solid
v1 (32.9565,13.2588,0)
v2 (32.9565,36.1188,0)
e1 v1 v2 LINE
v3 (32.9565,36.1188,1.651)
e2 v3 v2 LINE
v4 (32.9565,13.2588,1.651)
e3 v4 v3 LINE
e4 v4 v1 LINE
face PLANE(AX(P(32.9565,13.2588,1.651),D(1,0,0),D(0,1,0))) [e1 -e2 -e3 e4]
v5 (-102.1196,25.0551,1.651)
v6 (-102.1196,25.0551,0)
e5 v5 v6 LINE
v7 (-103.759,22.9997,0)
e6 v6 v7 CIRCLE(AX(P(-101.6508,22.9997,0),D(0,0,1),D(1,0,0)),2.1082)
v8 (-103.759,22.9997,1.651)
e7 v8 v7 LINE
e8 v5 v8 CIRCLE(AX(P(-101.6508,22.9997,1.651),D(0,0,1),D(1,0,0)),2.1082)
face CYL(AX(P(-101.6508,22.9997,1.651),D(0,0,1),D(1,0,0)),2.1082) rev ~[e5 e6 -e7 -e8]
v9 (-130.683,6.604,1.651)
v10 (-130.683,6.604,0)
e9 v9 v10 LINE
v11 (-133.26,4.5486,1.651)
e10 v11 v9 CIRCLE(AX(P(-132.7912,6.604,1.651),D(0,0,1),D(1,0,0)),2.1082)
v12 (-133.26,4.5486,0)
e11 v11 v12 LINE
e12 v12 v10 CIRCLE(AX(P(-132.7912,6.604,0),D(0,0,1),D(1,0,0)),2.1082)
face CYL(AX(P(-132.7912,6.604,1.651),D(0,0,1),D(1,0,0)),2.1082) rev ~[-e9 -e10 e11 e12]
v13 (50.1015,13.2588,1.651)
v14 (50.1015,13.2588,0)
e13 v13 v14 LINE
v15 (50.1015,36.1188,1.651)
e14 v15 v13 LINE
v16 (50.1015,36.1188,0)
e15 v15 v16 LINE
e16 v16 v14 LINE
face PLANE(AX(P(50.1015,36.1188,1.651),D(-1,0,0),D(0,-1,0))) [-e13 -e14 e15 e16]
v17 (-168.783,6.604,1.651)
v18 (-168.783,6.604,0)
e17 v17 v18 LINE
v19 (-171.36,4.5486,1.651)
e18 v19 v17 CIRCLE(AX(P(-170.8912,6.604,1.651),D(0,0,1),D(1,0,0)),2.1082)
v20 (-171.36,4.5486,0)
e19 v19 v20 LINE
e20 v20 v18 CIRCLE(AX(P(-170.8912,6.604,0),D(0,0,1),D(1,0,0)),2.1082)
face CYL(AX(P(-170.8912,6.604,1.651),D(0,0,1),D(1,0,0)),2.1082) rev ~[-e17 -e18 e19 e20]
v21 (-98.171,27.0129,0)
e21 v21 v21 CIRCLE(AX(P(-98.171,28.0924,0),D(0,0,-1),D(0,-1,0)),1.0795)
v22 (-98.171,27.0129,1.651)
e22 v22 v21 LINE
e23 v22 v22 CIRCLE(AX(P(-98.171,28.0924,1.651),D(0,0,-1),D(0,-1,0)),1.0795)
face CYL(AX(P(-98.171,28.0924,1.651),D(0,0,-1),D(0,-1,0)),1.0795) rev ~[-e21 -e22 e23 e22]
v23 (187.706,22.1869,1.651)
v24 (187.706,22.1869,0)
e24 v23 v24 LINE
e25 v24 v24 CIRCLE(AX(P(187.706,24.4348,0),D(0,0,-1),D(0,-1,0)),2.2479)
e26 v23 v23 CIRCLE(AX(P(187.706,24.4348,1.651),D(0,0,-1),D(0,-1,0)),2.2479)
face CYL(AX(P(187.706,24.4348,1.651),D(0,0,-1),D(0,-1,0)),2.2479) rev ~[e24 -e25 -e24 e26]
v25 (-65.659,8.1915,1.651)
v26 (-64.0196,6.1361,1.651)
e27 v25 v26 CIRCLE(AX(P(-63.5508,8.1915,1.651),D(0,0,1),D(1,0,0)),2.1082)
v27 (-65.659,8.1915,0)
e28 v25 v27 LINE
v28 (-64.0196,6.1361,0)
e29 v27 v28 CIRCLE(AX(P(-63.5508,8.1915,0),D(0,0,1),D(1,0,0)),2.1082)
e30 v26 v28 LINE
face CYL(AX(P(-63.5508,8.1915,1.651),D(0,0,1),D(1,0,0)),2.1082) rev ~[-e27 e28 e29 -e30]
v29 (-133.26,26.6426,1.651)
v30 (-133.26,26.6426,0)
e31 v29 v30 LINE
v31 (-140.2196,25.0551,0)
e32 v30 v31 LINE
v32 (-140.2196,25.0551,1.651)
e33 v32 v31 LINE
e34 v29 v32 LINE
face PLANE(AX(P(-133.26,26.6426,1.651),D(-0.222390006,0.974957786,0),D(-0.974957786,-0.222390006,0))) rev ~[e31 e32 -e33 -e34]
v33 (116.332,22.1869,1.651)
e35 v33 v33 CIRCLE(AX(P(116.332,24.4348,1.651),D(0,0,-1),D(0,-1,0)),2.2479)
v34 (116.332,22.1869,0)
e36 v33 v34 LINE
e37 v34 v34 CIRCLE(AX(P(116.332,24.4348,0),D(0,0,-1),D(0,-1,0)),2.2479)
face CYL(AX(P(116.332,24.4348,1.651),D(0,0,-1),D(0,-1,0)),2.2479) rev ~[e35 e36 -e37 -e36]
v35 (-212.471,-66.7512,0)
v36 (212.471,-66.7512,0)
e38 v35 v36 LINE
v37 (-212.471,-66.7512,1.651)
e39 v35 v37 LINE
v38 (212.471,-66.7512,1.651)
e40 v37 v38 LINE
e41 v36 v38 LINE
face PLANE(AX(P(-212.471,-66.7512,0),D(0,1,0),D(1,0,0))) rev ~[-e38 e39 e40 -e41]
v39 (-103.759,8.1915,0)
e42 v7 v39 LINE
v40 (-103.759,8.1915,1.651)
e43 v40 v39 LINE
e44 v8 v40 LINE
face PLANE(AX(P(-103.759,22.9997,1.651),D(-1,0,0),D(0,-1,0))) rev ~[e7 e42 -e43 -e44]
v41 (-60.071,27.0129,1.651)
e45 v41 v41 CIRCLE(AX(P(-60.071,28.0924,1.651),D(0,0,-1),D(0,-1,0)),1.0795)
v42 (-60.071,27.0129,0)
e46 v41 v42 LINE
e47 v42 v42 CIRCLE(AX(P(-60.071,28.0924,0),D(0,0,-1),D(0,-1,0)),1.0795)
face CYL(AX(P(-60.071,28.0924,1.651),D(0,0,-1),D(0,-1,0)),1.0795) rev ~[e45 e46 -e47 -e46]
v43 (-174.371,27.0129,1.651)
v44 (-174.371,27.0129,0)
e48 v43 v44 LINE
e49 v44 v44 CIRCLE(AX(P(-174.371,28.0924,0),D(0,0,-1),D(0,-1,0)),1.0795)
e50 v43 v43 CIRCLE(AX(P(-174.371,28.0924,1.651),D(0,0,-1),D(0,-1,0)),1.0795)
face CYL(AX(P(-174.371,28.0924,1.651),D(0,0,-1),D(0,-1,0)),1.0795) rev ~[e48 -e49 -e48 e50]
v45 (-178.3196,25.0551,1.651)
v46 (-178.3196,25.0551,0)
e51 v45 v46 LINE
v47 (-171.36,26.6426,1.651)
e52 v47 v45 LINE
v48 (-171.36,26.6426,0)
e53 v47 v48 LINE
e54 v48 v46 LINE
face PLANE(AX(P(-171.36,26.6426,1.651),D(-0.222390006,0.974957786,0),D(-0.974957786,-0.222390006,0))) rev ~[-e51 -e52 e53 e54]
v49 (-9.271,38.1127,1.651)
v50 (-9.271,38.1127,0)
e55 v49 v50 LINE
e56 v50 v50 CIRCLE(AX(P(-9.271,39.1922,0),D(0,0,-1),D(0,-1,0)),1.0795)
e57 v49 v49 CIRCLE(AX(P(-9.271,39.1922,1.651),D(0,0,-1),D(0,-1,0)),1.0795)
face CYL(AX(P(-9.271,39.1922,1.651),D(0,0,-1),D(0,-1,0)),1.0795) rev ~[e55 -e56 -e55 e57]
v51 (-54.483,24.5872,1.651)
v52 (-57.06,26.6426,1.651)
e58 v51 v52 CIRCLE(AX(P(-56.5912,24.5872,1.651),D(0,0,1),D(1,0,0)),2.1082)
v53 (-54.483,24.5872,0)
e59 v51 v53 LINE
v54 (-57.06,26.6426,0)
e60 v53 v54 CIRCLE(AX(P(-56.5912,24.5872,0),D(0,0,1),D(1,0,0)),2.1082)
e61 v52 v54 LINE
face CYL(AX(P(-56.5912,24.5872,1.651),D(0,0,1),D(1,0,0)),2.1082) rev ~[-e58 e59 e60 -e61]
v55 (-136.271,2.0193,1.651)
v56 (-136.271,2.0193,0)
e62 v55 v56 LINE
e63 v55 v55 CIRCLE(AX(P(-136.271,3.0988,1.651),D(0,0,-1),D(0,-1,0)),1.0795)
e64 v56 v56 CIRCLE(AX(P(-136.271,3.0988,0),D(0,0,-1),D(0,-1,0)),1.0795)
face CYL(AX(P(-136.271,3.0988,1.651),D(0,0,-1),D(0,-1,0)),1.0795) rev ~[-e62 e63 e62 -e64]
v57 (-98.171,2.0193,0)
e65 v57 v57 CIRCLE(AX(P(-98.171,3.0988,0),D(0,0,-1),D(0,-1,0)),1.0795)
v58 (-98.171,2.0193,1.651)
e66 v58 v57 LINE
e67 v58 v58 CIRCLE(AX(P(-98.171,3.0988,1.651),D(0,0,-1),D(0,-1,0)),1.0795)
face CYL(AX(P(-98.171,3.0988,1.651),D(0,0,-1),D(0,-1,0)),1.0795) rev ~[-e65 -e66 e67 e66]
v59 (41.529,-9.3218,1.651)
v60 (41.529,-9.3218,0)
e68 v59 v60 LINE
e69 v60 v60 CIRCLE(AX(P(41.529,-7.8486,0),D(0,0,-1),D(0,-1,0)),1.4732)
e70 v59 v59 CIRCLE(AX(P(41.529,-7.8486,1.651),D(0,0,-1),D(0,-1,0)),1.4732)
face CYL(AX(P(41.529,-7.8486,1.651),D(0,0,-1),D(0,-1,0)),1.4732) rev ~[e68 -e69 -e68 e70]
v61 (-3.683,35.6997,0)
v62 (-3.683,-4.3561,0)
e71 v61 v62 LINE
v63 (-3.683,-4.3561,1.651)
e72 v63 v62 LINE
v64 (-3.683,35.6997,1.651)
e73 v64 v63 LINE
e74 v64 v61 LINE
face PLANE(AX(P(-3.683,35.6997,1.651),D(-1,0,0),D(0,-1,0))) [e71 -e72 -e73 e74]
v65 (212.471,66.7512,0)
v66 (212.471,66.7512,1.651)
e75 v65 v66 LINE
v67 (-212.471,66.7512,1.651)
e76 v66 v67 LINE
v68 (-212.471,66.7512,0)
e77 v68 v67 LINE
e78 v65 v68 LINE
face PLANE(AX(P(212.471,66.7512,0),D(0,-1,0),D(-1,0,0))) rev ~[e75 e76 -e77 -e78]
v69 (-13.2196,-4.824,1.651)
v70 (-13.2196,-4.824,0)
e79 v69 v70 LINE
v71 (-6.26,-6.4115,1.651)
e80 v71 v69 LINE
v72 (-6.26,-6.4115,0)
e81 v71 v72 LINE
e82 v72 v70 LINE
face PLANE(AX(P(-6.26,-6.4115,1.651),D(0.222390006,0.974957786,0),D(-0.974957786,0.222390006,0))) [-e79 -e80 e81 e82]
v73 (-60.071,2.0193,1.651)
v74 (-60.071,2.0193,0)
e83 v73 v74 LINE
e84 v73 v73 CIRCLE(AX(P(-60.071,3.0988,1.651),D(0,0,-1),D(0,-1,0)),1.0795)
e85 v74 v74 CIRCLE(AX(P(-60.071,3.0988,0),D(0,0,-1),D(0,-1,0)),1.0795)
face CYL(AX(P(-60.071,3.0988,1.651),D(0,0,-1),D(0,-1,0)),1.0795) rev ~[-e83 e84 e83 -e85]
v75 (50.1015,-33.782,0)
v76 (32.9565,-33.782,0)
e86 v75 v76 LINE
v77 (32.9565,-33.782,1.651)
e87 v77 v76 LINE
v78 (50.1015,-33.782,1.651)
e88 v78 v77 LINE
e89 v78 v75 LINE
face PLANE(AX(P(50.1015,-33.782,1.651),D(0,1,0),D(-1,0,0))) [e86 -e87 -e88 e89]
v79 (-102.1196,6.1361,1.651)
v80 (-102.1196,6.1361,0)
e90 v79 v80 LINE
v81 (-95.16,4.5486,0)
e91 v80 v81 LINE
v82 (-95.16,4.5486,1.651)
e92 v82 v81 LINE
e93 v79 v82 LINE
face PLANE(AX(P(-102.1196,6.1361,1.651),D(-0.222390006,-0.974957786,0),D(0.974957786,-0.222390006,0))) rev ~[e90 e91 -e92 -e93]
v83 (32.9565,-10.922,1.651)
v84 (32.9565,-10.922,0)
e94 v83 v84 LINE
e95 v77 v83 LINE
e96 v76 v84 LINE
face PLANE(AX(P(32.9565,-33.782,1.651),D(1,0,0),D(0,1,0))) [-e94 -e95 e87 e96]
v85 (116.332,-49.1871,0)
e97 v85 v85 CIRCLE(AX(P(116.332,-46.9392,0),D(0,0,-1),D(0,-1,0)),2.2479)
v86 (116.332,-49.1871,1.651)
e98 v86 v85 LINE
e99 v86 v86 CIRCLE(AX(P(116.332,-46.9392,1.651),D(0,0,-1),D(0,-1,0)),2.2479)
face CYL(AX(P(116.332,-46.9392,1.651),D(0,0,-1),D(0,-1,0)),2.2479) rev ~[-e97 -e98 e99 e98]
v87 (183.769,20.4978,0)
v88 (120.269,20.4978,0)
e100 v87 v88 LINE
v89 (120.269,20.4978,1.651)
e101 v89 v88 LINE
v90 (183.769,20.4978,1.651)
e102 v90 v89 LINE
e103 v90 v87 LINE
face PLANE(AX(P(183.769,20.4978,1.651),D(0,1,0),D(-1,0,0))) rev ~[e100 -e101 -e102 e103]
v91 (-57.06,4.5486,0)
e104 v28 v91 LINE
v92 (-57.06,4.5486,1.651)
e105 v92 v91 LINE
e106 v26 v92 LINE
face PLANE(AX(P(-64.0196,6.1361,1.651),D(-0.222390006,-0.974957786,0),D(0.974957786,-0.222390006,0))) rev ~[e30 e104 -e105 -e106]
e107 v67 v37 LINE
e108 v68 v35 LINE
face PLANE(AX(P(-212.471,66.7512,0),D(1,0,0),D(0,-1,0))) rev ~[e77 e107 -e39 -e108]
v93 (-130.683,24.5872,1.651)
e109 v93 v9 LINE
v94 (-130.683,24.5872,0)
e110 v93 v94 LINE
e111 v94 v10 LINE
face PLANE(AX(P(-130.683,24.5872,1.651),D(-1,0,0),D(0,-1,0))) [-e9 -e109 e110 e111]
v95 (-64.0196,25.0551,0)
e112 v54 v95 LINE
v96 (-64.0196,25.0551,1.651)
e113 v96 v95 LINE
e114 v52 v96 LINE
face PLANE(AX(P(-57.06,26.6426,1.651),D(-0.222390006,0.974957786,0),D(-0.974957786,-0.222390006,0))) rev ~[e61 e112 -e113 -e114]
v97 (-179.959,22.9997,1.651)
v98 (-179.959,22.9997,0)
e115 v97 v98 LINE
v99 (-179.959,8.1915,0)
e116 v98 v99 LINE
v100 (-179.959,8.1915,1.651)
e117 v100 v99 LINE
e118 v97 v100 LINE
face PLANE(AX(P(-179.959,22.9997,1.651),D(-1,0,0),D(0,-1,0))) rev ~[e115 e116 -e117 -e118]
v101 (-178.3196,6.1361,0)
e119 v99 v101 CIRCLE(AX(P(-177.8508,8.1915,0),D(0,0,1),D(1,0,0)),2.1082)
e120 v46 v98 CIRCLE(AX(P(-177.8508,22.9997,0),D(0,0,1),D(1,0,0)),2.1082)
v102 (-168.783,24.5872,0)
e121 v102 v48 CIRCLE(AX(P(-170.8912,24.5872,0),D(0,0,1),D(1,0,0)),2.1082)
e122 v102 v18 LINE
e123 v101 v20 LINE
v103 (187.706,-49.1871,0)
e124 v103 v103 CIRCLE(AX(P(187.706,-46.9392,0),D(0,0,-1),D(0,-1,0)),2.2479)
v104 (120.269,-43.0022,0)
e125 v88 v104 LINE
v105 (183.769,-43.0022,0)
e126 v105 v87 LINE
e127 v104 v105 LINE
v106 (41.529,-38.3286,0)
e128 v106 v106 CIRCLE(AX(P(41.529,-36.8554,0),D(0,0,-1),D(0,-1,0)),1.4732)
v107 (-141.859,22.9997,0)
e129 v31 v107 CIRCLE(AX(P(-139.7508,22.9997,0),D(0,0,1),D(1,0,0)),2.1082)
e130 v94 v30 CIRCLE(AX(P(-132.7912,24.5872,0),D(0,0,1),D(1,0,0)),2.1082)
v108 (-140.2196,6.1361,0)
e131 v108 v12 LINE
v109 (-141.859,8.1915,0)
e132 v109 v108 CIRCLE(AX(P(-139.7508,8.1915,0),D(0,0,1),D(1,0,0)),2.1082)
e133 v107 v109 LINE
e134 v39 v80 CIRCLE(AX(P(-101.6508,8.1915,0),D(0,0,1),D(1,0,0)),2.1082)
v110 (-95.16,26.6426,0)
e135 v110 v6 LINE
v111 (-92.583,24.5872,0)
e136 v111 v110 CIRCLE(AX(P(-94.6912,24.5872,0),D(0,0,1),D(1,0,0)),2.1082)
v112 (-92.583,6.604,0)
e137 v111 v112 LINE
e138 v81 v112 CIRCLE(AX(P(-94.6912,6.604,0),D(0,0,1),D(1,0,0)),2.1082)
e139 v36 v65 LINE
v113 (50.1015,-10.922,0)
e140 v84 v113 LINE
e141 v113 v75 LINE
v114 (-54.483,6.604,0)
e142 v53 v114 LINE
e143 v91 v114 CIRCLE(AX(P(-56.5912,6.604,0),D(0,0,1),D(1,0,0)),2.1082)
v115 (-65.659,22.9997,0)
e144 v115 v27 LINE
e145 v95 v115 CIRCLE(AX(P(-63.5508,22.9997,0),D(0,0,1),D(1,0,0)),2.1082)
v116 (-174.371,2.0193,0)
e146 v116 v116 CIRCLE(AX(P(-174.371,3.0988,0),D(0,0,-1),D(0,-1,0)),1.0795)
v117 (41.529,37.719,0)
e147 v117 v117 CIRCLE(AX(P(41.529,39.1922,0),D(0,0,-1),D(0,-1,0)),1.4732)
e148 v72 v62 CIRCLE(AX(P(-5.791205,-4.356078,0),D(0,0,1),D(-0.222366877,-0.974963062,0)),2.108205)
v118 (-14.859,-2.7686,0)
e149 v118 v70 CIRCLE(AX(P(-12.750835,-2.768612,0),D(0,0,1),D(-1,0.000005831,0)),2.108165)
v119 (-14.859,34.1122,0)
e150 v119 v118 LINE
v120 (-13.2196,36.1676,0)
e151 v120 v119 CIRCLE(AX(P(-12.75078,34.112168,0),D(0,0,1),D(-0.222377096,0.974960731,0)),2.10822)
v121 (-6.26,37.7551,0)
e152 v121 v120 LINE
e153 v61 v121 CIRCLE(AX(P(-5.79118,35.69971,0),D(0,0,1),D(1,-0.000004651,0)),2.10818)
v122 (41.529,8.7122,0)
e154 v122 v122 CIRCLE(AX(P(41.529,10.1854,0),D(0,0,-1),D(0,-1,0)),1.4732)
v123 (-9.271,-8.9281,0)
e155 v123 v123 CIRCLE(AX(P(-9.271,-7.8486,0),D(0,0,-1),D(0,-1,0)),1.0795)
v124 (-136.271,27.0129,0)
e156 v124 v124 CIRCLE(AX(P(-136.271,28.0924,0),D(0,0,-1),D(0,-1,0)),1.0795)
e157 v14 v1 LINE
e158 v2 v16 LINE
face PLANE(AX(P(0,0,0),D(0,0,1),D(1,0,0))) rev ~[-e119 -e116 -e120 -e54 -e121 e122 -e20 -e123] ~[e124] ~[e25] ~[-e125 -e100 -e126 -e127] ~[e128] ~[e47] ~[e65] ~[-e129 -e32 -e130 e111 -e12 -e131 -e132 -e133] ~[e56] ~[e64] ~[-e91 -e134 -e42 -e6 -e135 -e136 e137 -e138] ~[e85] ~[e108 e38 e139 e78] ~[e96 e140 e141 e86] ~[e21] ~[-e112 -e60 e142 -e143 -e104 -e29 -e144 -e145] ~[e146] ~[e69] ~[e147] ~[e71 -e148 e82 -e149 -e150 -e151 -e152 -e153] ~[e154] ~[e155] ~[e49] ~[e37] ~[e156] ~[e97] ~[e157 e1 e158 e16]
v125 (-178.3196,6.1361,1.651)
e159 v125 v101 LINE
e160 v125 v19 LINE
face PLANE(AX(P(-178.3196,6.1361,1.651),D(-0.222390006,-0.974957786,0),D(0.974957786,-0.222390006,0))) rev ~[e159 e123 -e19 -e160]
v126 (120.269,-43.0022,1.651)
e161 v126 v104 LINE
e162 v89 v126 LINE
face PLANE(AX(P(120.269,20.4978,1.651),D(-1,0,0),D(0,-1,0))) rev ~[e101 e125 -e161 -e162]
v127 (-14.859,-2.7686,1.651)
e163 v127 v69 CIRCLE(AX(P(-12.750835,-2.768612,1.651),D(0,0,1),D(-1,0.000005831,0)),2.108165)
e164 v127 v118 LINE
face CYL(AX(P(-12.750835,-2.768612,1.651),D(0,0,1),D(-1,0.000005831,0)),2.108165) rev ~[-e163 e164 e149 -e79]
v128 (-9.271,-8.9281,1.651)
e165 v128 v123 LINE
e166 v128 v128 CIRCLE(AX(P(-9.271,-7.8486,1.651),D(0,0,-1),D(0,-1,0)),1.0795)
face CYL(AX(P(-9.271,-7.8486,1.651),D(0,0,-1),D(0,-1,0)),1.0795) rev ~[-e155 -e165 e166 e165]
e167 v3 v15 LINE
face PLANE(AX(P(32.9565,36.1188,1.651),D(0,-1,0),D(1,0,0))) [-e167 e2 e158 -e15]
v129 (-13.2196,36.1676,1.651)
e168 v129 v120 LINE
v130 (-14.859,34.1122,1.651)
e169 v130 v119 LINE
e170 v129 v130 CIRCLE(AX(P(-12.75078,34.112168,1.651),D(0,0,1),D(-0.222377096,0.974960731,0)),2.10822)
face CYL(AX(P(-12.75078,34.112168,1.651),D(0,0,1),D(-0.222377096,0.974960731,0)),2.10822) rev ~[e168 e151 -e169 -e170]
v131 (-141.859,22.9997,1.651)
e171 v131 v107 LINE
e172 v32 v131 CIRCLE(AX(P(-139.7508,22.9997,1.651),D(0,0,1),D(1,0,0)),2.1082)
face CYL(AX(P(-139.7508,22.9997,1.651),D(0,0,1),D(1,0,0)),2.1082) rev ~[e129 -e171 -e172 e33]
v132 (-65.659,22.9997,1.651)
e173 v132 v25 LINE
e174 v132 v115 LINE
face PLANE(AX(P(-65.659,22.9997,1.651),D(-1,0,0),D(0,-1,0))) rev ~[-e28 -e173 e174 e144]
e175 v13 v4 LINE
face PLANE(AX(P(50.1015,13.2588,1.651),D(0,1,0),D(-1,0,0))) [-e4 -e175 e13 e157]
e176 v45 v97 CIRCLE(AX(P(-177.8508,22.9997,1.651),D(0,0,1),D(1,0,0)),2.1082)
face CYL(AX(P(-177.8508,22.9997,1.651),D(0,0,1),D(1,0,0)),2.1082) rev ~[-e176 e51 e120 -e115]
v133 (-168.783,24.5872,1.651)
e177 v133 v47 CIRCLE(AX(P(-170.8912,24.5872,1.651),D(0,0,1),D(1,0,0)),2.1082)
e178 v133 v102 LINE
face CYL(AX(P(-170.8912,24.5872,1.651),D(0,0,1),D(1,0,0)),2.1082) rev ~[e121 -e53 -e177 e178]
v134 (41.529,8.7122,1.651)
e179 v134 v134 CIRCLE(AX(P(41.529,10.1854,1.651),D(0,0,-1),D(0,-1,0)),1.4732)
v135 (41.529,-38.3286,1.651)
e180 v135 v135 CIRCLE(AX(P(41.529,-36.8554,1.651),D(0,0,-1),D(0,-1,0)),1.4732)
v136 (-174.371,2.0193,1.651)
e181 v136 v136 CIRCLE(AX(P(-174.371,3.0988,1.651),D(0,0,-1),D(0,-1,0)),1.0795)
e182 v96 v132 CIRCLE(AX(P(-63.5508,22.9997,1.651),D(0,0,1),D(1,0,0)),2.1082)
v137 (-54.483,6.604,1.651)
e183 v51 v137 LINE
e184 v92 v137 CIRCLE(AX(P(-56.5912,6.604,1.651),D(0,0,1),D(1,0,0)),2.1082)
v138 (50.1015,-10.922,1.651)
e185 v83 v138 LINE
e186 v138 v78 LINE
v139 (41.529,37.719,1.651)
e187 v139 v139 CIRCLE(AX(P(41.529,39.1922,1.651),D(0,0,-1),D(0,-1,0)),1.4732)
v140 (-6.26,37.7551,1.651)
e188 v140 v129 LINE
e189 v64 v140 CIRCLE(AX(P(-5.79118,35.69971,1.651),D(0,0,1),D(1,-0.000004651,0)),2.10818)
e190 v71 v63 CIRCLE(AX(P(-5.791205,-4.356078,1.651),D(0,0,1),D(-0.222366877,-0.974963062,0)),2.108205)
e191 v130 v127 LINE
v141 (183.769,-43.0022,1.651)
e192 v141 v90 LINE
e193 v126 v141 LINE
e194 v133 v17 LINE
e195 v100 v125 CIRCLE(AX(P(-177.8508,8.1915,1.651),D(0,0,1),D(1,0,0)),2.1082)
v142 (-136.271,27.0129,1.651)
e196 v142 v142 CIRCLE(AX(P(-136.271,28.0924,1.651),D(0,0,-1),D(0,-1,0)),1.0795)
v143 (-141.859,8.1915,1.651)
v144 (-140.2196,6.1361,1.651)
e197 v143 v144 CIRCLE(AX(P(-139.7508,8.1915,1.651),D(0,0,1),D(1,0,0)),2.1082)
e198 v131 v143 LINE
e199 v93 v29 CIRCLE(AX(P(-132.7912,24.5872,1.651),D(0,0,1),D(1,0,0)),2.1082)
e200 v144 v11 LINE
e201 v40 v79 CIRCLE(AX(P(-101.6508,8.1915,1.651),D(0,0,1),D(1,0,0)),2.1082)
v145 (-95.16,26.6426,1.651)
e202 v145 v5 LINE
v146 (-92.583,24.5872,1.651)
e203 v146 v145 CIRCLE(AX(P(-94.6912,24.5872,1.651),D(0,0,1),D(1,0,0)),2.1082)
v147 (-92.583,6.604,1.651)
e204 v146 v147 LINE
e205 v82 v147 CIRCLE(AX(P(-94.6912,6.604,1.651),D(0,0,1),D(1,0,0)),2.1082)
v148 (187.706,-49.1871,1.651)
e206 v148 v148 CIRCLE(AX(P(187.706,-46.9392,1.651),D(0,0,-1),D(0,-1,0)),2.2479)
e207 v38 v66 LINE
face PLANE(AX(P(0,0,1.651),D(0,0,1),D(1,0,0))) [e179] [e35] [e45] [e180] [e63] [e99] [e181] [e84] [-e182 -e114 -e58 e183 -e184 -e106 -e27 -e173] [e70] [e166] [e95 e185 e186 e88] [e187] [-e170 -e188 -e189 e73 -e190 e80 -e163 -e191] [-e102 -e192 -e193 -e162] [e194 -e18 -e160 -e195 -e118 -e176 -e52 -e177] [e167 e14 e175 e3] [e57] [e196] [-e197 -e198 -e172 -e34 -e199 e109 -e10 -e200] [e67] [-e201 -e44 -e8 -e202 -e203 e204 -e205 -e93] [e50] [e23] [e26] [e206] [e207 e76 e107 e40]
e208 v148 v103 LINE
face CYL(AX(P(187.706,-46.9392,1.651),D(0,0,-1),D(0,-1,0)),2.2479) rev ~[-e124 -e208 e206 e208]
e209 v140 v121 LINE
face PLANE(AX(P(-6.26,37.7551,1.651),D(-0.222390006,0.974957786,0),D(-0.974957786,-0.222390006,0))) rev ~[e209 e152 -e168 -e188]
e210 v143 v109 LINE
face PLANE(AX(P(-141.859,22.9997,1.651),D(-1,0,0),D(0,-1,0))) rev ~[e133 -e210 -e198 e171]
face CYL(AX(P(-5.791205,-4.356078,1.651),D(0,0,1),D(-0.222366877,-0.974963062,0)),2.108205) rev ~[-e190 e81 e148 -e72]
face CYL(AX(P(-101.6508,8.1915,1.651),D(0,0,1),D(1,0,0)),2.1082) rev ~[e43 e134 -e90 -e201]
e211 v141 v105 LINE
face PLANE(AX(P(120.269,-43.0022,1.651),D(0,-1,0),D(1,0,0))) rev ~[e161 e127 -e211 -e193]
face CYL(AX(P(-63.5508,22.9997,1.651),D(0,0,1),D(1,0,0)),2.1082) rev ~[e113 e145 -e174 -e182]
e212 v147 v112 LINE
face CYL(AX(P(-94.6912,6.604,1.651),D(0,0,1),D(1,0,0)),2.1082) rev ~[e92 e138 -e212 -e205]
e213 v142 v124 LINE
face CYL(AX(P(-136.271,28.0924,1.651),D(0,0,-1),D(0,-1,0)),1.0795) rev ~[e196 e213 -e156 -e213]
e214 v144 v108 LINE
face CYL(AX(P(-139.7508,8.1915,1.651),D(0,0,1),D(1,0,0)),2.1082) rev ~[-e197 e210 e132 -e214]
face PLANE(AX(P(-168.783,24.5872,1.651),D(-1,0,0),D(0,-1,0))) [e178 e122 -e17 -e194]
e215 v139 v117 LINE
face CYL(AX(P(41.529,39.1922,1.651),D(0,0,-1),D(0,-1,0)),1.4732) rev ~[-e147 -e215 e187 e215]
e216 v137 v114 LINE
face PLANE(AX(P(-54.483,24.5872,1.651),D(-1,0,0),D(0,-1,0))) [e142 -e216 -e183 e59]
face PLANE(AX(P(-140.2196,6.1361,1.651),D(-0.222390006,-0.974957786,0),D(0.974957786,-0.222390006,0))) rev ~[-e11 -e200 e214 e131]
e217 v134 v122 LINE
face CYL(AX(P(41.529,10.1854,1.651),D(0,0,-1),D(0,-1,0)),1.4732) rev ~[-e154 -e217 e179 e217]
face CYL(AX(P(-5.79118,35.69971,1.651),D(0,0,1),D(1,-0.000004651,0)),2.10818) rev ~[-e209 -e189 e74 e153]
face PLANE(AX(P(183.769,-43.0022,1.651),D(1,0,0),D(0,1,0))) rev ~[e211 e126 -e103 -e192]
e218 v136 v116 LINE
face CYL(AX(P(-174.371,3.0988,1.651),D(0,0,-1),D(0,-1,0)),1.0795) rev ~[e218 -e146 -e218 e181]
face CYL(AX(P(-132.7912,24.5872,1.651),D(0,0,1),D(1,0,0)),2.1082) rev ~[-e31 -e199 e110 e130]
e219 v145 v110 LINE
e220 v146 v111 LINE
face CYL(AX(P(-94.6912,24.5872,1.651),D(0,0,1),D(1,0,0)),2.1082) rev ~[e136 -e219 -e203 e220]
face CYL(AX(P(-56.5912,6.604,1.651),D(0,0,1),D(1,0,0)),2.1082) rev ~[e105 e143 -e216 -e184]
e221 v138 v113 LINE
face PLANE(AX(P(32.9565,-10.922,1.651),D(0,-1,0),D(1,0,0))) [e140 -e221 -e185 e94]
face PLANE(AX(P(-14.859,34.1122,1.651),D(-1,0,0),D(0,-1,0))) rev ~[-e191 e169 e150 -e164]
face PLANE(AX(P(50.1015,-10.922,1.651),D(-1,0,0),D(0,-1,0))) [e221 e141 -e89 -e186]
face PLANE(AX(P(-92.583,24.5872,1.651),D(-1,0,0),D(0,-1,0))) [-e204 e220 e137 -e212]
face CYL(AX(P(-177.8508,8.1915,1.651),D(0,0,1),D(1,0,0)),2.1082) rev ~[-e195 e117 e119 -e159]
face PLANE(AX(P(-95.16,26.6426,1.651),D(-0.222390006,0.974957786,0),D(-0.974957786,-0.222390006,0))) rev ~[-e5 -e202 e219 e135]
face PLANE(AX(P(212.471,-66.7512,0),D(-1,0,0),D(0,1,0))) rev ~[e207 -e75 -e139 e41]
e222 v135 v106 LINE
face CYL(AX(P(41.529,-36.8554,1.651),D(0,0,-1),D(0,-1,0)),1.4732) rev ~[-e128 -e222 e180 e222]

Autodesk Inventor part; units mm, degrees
ref_plane "YZ Plane" through (0, 0, 0) normal (1, 0, 0) x (0, 1, 0)
ref_plane "XZ Plane" through (0, 0, 0) normal (0, 1, 0) x (-1, 0, 0)
ref_plane "XY Plane" through (0, 0, 0) normal (0, 0, 1) x (1, 0, 0)
sketch "Sketch1" plane through (0, 0, 0) normal (0, 0, 1) x (1, 0, 0)
  line L0 (-212.471, -66.7512) -> (212.471, -66.7512)
  line L1 (212.471, -66.7512) -> (212.471, 66.7512)
  line L2 (212.471, 66.7512) -> (-212.471, 66.7512)
  line L3 (-212.471, 66.7512) -> (-212.471, -66.7512)
  line L4 (-212.471, -66.7512) -> (212.471, 66.7512) construction
  line L5 (212.471, -66.7512) -> (-212.471, 66.7512) construction
  point P0 (0, 0)
  dimension "d0" = 424.942
  dimension "d1" = 133.5024
extrude "pdu" add sketch "Sketch1" along normal blind 1.651
sketch "dsub9 sketch" plane through (0, 0, 1.651) normal (0, 0, 1) x (1, 0, 0)
  line L0 (-174.371, 28.0924) -> (-174.371, 3.0988) construction
  circle A0 centre (-174.371, 3.0988) radius 1.1303
  circle A1 centre (-174.371, 28.0924) radius 1.1303
  line L1 (209.423, 58.4962) -> (-209.423, 58.4962) construction
  line L2 (-209.423, 58.4962) -> (-209.423, -58.4962) construction
  line L3 (-209.423, -58.4962) -> (209.423, -58.4962) construction
  line L4 (209.423, -58.4962) -> (209.423, 58.4962) construction
  line L5 (212.471, 66.7512) -> (-212.471, 66.7512) construction
  line L6 (-212.471, -66.7512) -> (212.471, -66.7512) construction
  line L7 (-212.471, 66.7512) -> (-212.471, -66.7512) construction
  line L8 (212.471, -66.7512) -> (212.471, 66.7512) construction
  line L9 (-168.783, 24.5872) -> (-168.783, 6.604)
  line L10 (-179.959, 22.9997) -> (-179.959, 8.1915)
  circle A2 centre (-170.8912, 6.604) radius 2.1082
  circle A3 centre (-177.8508, 8.1915) radius 2.1082
  circle A4 centre (-177.8508, 22.9997) radius 2.1082
  circle A5 centre (-170.8912, 24.5872) radius 2.1082
  line L11 (-170.0752, 15.5956) -> (-178.6668, 15.5956) construction
  line L12 (-178.3196, 6.1361) -> (-171.36, 4.5486)
  line L13 (-171.36, 26.6426) -> (-178.3196, 25.0551)
  circle A6 centre (-132.7912, 24.5872) radius 2.1082
  line L14 (-130.683, 24.5872) -> (-130.683, 6.604)
  circle A7 centre (-132.7912, 6.604) radius 2.1082
  line L15 (-140.2196, 6.1361) -> (-133.26, 4.5486)
  circle A8 centre (-139.7508, 8.1915) radius 2.1082
  line L16 (-141.859, 22.9997) -> (-141.859, 8.1915)
  line L17 (-133.26, 26.6426) -> (-140.2196, 25.0551)
  line L18 (-131.9752, 15.5956) -> (-140.5668, 15.5956) construction
  circle A9 centre (-139.7508, 22.9997) radius 2.1082
  line L19 (-136.271, 28.0924) -> (-136.271, 3.0988) construction
  circle A10 centre (-136.271, 3.0988) radius 1.1303
  circle A11 centre (-136.271, 28.0924) radius 1.1303
  circle A12 centre (-94.6912, 24.5872) radius 2.1082
  line L20 (-92.583, 24.5872) -> (-92.583, 6.604)
  circle A13 centre (-94.6912, 6.604) radius 2.1082
  line L21 (-102.1196, 6.1361) -> (-95.16, 4.5486)
  circle A14 centre (-101.6508, 8.1915) radius 2.1082
  line L22 (-103.759, 22.9997) -> (-103.759, 8.1915)
  line L23 (-95.16, 26.6426) -> (-102.1196, 25.0551)
  line L24 (-93.8752, 15.5956) -> (-102.4668, 15.5956) construction
  circle A15 centre (-101.6508, 22.9997) radius 2.1082
  line L25 (-98.171, 28.0924) -> (-98.171, 3.0988) construction
  circle A16 centre (-98.171, 3.0988) radius 1.1303
  circle A17 centre (-98.171, 28.0924) radius 1.1303
  circle A18 centre (-56.5912, 24.5872) radius 2.1082
  line L26 (-54.483, 24.5872) -> (-54.483, 6.604)
  circle A19 centre (-56.5912, 6.604) radius 2.1082
  line L27 (-64.0196, 6.1361) -> (-57.06, 4.5486)
  circle A20 centre (-63.5508, 8.1915) radius 2.1082
  line L28 (-65.659, 22.9997) -> (-65.659, 8.1915)
  line L29 (-57.06, 26.6426) -> (-64.0196, 25.0551)
  line L30 (-55.7752, 15.5956) -> (-64.3668, 15.5956) construction
  circle A21 centre (-63.5508, 22.9997) radius 2.1082
  line L31 (-60.071, 28.0924) -> (-60.071, 3.0988) construction
  circle A22 centre (-60.071, 3.0988) radius 1.1303
  circle A23 centre (-60.071, 28.0924) radius 1.1303
  point P0 (0, 0)
  point P1 (-136.271, 28.0924)
  point P2 (-136.271, 3.0988)
  point P3 (-98.171, 28.0924)
  point P4 (-98.171, 3.0988)
  point P5 (-60.071, 28.0924)
  point P6 (-60.071, 3.0988)
  point P7 (-174.371, 15.5956)
  point P8 (-168.783, 15.5956)
  point P9 (-179.959, 15.5956)
  point P10 (-130.683, 15.5956)
  point P11 (-136.271, 15.5956)
  point P12 (-141.859, 15.5956)
  point P13 (-92.583, 15.5956)
  point P14 (-98.171, 15.5956)
  point P15 (-103.759, 15.5956)
  point P16 (-54.483, 15.5956)
  point P17 (-60.071, 15.5956)
  point P18 (-65.659, 15.5956)
  dimension "d4" = 2.2606
  dimension "d5" = 2.2606
  dimension "d6" = 24.9936
  dimension "d13" = 8.255
  dimension "d14" = 8.255
  dimension "d15" = 3.048
  dimension "d16" = 3.048
  dimension "d17" = 38.1
  dimension "d20" = 69.85
  dimension "d24" = 38.1
  dimension "d123" = 4.2164
  dimension "d124" = 4.2164
  dimension "d125" = 4.2164
  dimension "d126" = 4.2164
  dimension "d127" = 11.176
  dimension "d128" = 17.9832
  dimension "d129" = 14.8082
  dimension "d130" = 5.588
  dimension "d133" = 38.1
sketch "dsub25 sketch" plane through (0, 0, 1.651) normal (0, 0, 1) x (1, 0, 0)
  line L0 (16.129, 15.6718) -> (-34.671, 15.6718) construction
  line L1 (-9.271, 39.1922) -> (-9.271, -7.8486) construction
  circle A0 centre (-9.271, -7.8486) radius 1.1303
  circle A1 centre (-9.271, 39.1922) radius 1.1303
  line L2 (-3.683, 35.6997) -> (-3.683, -4.3561)
  line L3 (-14.859, 34.1122) -> (-14.859, -2.7686)
  arc A2 (-6.26, -6.4115) -> (-3.683, -4.3561) centre (-5.7912, -4.3561) ccw
  arc A3 (-3.683, 35.6997) -> (-6.26, 37.7551) centre (-5.7912, 35.6997) ccw
  arc A4 (-13.2196, 36.1676) -> (-14.859, 34.1122) centre (-12.7508, 34.1122) ccw
  arc A5 (-14.859, -2.7686) -> (-13.2196, -4.824) centre (-12.7508, -2.7686) ccw
  line L4 (-6.26, 37.7551) -> (-13.2196, 36.1676)
  line L5 (-6.26, -6.4115) -> (-13.2196, -4.824)
  line L6 (-212.471, 66.7512) -> (-212.471, -66.7512) projected
  line L7 (-212.471, -66.7512) -> (212.471, -66.7512) projected
  line L8 (-6.26, 37.7551) -> (-23.8456, 37.7551) construction
  line L9 (-5.7893, -19.1331) -> (-33.2019, -19.1331) construction
  point P0 (0, 0)
  point P1 (-9.271, 15.6718)
  point P2 (-9.271, 15.6718)
  point P3 (-3.683, 15.6718)
  point P4 (-14.859, 15.6718)
  dimension "d31" = 2.2606
  dimension "d32" = 2.2606
  dimension "d33" = 47.0408
  dimension "d34" = 4.2164
  dimension "d35" = 4.2164
  dimension "d36" = 4.2164
  dimension "d37" = 4.2164
  dimension "d38" = 36.8808
  dimension "d39" = 40.0558
  dimension "d40" = 50.8
  dimension "d41" = 11.176
  dimension "d42" = 5.588
  dimension "d43" = 203.2
  dimension "d44" = 58.9026
sketch "CAT7 sketch" plane through (0, 0, 1.651) normal (0, 0, 1) x (1, 0, 0)
  line L0 (32.9565, 36.1188) -> (50.1015, 36.1188)
  line L1 (50.1015, 36.1188) -> (50.1015, 13.2588)
  line L2 (50.1015, 13.2588) -> (32.9565, 13.2588)
  line L3 (32.9565, 13.2588) -> (32.9565, 36.1188)
  line L4 (23.6736, 24.6888) -> (79.7413, 24.6888) construction
  circle A0 centre (41.529, 39.1922) radius 1.1303
  circle A1 centre (41.529, 10.1854) radius 1.1303
  line L5 (41.529, 39.1922) -> (41.529, 10.1854) construction
  line L6 (-212.471, -66.7512) -> (212.471, -66.7512) construction
  line L7 (-212.471, 66.7512) -> (-212.471, -66.7512) construction
  line L8 (32.9565, -10.922) -> (50.1015, -10.922)
  line L9 (50.1015, -10.922) -> (50.1015, -33.782)
  line L10 (50.1015, -33.782) -> (32.9565, -33.782)
  line L11 (32.9565, -33.782) -> (32.9565, -10.922)
  circle A2 centre (41.529, -7.8486) radius 1.1303
  circle A3 centre (41.529, -36.8554) radius 1.1303
  line L12 (41.529, -7.8486) -> (41.529, -36.8554) construction
  point P0 (0, 0)
  point P1 (32.9565, 24.6888)
  point P2 (41.529, 36.1188)
  point P3 (41.529, 24.6888)
  point P4 (41.529, -10.922)
  point P5 (32.9565, -22.352)
  point P6 (23.6736, -22.352)
  point P7 (41.529, -22.352)
  dimension "d47" = 22.86
  dimension "d48" = 17.145
  dimension "d49" = 2.2606
  dimension "d50" = 2.2606
  dimension "d51" = 29.0068
  dimension "d52" = 76.9366
  dimension "d53" = 254
  dimension "d56" = 47.0408
sketch "Sketch5" plane through (0, 0, 1.651) normal (0, 0, 1) x (1, 0, 0)
  line L0 (110.109, -53.1622) -> (193.929, -53.1622) construction
  line L1 (193.929, -53.1622) -> (193.929, 30.6578) construction
  line L2 (193.929, 30.6578) -> (110.109, 30.6578) construction
  line L3 (110.109, 30.6578) -> (110.109, -53.1622) construction
  line L4 (110.109, -53.1622) -> (193.929, 30.6578) construction
  line L5 (193.929, -53.1622) -> (110.109, 30.6578) construction
  line L6 (-212.471, 66.7512) -> (-212.471, -66.7512) projected
  line L7 (-212.471, -66.7512) -> (212.471, -66.7512) projected
  line L8 (120.269, -43.0022) -> (183.769, -43.0022)
  line L9 (183.769, -43.0022) -> (183.769, 20.4978)
  line L10 (183.769, 20.4978) -> (120.269, 20.4978)
  line L11 (120.269, 20.4978) -> (120.269, -43.0022)
  line L12 (120.269, -43.0022) -> (183.769, 20.4978) construction
  line L13 (183.769, -43.0022) -> (120.269, 20.4978) construction
  line L14 (116.332, -46.9392) -> (187.706, -46.9392) construction
  line L15 (187.706, -46.9392) -> (187.706, 24.4348) construction
  line L16 (187.706, 24.4348) -> (116.332, 24.4348) construction
  line L17 (116.332, 24.4348) -> (116.332, -46.9392) construction
  line L18 (116.332, -46.9392) -> (187.706, 24.4348) construction
  line L19 (187.706, -46.9392) -> (116.332, 24.4348) construction
  circle A0 centre (116.332, 24.4348) radius 2.2479
  circle A1 centre (187.706, 24.4348) radius 2.2479
  circle A2 centre (187.706, -46.9392) radius 2.2479
  circle A3 centre (116.332, -46.9392) radius 2.2479
  line L20 (120.269, -43.0022) -> (183.769, -43.0022)
  line L21 (183.769, -43.0022) -> (183.769, 20.4978)
  line L22 (183.769, 20.4978) -> (120.269, 20.4978)
  line L23 (120.269, 20.4978) -> (120.269, -43.0022)
  line L24 (120.269, -43.0022) -> (183.769, 20.4978) construction
  line L25 (183.769, -43.0022) -> (120.269, 20.4978) construction
  point P0 (0, 0)
  point P1 (152.019, -11.2522)
  point P2 (152.019, -11.2522)
  dimension "d63" = 83.82
  dimension "d64" = 83.82
  dimension "d65" = 322.58
  dimension "d66" = 13.589
  dimension "d67" = 63.5
  dimension "d68" = 63.5
  dimension "d69" = 71.374
  dimension "d70" = 4.4958
  dimension "d71" = 4.4958
  dimension "d72" = 4.4958
  dimension "d73" = 4.4958
hole "airflow holes" at (187.706, 24.4348, 1.651) at (116.332, 24.4348, 1.651) at (116.332, -46.9392, 1.651) at (187.706, -46.9392, 1.651) direction (0, 0, -1) diameter 4.4958 end through all clearance for "Flat Head Machine Screw (82)" size "#8" standard "Ansi Unified Screw Threads"
sketch "Sketch7" plane through (0, 0, 1.651) normal (0, 0, 1) x (1, 0, 0)
  line L0 (110.109, -53.1622) -> (193.929, -53.1622) construction
  line L1 (193.929, -53.1622) -> (193.929, 30.6578) construction
  line L2 (193.929, 30.6578) -> (110.109, 30.6578) construction
  line L3 (110.109, 30.6578) -> (110.109, -53.1622) construction
  line L4 (110.109, -53.1622) -> (193.929, 30.6578) construction
  line L5 (193.929, -53.1622) -> (110.109, 30.6578) construction
  line L6 (-212.471, 66.7512) -> (-212.471, -66.7512)
  line L7 (-212.471, -66.7512) -> (212.471, -66.7512)
  line L8 (120.269, -43.0022) -> (183.769, -43.0022)
  line L9 (183.769, -43.0022) -> (183.769, 20.4978)
  line L10 (183.769, 20.4978) -> (120.269, 20.4978)
  line L11 (120.269, 20.4978) -> (120.269, -43.0022)
  line L12 (120.269, -43.0022) -> (183.769, 20.4978) construction
  line L13 (183.769, -43.0022) -> (120.269, 20.4978) construction
  line L14 (116.332, -46.9392) -> (187.706, -46.9392) construction
  line L15 (187.706, -46.9392) -> (187.706, 24.4348) construction
  line L16 (187.706, 24.4348) -> (116.332, 24.4348) construction
  line L17 (116.332, 24.4348) -> (116.332, -46.9392) construction
  line L18 (116.332, -46.9392) -> (187.706, 24.4348) construction
  line L19 (187.706, -46.9392) -> (116.332, 24.4348) construction
  circle A0 centre (116.332, 24.4348) radius 2.2479
  circle A1 centre (187.706, 24.4348) radius 2.2479
  circle A2 centre (187.706, -46.9392) radius 2.2479
  circle A3 centre (116.332, -46.9392) radius 2.2479
  line L20 (120.269, -43.0022) -> (183.769, -43.0022)
  line L21 (183.769, -43.0022) -> (183.769, 20.4978)
  line L22 (183.769, 20.4978) -> (120.269, 20.4978)
  line L23 (120.269, 20.4978) -> (120.269, -43.0022)
  line L24 (120.269, -43.0022) -> (183.769, 20.4978) construction
  line L25 (183.769, -43.0022) -> (120.269, 20.4978) construction
  point P0 (0, 0)
  point P1 (0, 0)
  point P2 (152.019, -11.2522)
  point P3 (152.019, -11.2522)
  dimension "d83" = 83.82
  dimension "d84" = 83.82
  dimension "d85" = 322.58
  dimension "d86" = 13.589
  dimension "d87" = 63.5
  dimension "d88" = 63.5
  dimension "d89" = 71.374
  dimension "d90" = 4.4958
  dimension "d91" = 4.4958
  dimension "d92" = 4.4958
  dimension "d93" = 4.4958
extrude "airflow cutout" cut sketch "Sketch7" against normal through all contours L11 L10 L9 L8
hole "dsub9 4-40 holes" at (-174.371, 28.0924, 1.651) at (-174.371, 3.0988, 1.651) at (-136.271, 3.0988, 1.651) at (-136.271, 28.0924, 1.651) at (-98.171, 28.0924, 1.651) at (-98.171, 3.0988, 1.651) at (-60.071, 28.0924, 1.651) at (-60.071, 3.0988, 1.651) direction (0, 0, -1) diameter 2.159 depth 8.8646 tip angle 118
hole "CAT7 holes" at (41.529, 39.1922, 1.651) at (41.529, 10.1854, 1.651) at (41.529, -7.8486, 1.651) at (41.529, -36.8554, 1.651) direction (0, 0, -1) diameter 2.9464 end through all
extrude "CAT7 cutout" cut sketch "CAT7 sketch" against normal through all contours L0 L1 L2 L3 | L8 L9 L10 L11
hole "dsub25 4-40 holes" at (-9.271, 39.1922, 1.651) at (-9.271, -7.8486, 1.651) direction (0, 0, -1) diameter 2.159 end through all
extrude "dsub25 cutout" cut sketch "dsub25 sketch" against normal through all contours L2 A2 L5 A5 L3 A4 L4 A3
extrude "Extrusion10" cut sketch "dsub9 sketch" against normal blind 25.4 contours A5 | L9 A2 L12 A3 L10 A4 L13 A5 | A2 | A4 | A3 | A6 | L14 A7 L15 A8 L16 A9 L17 A6 | A7 | A9 | A8 | A12 | L20 A13 L21 A14 L22 A15 L23 A12 | A13 | A15 | A14 | A18 | L26 A19 L27 A20 L28 A21 L29 A18 | A19 | A21 | A20
properties part number "PDU_chassis_decreased_dsubs"
